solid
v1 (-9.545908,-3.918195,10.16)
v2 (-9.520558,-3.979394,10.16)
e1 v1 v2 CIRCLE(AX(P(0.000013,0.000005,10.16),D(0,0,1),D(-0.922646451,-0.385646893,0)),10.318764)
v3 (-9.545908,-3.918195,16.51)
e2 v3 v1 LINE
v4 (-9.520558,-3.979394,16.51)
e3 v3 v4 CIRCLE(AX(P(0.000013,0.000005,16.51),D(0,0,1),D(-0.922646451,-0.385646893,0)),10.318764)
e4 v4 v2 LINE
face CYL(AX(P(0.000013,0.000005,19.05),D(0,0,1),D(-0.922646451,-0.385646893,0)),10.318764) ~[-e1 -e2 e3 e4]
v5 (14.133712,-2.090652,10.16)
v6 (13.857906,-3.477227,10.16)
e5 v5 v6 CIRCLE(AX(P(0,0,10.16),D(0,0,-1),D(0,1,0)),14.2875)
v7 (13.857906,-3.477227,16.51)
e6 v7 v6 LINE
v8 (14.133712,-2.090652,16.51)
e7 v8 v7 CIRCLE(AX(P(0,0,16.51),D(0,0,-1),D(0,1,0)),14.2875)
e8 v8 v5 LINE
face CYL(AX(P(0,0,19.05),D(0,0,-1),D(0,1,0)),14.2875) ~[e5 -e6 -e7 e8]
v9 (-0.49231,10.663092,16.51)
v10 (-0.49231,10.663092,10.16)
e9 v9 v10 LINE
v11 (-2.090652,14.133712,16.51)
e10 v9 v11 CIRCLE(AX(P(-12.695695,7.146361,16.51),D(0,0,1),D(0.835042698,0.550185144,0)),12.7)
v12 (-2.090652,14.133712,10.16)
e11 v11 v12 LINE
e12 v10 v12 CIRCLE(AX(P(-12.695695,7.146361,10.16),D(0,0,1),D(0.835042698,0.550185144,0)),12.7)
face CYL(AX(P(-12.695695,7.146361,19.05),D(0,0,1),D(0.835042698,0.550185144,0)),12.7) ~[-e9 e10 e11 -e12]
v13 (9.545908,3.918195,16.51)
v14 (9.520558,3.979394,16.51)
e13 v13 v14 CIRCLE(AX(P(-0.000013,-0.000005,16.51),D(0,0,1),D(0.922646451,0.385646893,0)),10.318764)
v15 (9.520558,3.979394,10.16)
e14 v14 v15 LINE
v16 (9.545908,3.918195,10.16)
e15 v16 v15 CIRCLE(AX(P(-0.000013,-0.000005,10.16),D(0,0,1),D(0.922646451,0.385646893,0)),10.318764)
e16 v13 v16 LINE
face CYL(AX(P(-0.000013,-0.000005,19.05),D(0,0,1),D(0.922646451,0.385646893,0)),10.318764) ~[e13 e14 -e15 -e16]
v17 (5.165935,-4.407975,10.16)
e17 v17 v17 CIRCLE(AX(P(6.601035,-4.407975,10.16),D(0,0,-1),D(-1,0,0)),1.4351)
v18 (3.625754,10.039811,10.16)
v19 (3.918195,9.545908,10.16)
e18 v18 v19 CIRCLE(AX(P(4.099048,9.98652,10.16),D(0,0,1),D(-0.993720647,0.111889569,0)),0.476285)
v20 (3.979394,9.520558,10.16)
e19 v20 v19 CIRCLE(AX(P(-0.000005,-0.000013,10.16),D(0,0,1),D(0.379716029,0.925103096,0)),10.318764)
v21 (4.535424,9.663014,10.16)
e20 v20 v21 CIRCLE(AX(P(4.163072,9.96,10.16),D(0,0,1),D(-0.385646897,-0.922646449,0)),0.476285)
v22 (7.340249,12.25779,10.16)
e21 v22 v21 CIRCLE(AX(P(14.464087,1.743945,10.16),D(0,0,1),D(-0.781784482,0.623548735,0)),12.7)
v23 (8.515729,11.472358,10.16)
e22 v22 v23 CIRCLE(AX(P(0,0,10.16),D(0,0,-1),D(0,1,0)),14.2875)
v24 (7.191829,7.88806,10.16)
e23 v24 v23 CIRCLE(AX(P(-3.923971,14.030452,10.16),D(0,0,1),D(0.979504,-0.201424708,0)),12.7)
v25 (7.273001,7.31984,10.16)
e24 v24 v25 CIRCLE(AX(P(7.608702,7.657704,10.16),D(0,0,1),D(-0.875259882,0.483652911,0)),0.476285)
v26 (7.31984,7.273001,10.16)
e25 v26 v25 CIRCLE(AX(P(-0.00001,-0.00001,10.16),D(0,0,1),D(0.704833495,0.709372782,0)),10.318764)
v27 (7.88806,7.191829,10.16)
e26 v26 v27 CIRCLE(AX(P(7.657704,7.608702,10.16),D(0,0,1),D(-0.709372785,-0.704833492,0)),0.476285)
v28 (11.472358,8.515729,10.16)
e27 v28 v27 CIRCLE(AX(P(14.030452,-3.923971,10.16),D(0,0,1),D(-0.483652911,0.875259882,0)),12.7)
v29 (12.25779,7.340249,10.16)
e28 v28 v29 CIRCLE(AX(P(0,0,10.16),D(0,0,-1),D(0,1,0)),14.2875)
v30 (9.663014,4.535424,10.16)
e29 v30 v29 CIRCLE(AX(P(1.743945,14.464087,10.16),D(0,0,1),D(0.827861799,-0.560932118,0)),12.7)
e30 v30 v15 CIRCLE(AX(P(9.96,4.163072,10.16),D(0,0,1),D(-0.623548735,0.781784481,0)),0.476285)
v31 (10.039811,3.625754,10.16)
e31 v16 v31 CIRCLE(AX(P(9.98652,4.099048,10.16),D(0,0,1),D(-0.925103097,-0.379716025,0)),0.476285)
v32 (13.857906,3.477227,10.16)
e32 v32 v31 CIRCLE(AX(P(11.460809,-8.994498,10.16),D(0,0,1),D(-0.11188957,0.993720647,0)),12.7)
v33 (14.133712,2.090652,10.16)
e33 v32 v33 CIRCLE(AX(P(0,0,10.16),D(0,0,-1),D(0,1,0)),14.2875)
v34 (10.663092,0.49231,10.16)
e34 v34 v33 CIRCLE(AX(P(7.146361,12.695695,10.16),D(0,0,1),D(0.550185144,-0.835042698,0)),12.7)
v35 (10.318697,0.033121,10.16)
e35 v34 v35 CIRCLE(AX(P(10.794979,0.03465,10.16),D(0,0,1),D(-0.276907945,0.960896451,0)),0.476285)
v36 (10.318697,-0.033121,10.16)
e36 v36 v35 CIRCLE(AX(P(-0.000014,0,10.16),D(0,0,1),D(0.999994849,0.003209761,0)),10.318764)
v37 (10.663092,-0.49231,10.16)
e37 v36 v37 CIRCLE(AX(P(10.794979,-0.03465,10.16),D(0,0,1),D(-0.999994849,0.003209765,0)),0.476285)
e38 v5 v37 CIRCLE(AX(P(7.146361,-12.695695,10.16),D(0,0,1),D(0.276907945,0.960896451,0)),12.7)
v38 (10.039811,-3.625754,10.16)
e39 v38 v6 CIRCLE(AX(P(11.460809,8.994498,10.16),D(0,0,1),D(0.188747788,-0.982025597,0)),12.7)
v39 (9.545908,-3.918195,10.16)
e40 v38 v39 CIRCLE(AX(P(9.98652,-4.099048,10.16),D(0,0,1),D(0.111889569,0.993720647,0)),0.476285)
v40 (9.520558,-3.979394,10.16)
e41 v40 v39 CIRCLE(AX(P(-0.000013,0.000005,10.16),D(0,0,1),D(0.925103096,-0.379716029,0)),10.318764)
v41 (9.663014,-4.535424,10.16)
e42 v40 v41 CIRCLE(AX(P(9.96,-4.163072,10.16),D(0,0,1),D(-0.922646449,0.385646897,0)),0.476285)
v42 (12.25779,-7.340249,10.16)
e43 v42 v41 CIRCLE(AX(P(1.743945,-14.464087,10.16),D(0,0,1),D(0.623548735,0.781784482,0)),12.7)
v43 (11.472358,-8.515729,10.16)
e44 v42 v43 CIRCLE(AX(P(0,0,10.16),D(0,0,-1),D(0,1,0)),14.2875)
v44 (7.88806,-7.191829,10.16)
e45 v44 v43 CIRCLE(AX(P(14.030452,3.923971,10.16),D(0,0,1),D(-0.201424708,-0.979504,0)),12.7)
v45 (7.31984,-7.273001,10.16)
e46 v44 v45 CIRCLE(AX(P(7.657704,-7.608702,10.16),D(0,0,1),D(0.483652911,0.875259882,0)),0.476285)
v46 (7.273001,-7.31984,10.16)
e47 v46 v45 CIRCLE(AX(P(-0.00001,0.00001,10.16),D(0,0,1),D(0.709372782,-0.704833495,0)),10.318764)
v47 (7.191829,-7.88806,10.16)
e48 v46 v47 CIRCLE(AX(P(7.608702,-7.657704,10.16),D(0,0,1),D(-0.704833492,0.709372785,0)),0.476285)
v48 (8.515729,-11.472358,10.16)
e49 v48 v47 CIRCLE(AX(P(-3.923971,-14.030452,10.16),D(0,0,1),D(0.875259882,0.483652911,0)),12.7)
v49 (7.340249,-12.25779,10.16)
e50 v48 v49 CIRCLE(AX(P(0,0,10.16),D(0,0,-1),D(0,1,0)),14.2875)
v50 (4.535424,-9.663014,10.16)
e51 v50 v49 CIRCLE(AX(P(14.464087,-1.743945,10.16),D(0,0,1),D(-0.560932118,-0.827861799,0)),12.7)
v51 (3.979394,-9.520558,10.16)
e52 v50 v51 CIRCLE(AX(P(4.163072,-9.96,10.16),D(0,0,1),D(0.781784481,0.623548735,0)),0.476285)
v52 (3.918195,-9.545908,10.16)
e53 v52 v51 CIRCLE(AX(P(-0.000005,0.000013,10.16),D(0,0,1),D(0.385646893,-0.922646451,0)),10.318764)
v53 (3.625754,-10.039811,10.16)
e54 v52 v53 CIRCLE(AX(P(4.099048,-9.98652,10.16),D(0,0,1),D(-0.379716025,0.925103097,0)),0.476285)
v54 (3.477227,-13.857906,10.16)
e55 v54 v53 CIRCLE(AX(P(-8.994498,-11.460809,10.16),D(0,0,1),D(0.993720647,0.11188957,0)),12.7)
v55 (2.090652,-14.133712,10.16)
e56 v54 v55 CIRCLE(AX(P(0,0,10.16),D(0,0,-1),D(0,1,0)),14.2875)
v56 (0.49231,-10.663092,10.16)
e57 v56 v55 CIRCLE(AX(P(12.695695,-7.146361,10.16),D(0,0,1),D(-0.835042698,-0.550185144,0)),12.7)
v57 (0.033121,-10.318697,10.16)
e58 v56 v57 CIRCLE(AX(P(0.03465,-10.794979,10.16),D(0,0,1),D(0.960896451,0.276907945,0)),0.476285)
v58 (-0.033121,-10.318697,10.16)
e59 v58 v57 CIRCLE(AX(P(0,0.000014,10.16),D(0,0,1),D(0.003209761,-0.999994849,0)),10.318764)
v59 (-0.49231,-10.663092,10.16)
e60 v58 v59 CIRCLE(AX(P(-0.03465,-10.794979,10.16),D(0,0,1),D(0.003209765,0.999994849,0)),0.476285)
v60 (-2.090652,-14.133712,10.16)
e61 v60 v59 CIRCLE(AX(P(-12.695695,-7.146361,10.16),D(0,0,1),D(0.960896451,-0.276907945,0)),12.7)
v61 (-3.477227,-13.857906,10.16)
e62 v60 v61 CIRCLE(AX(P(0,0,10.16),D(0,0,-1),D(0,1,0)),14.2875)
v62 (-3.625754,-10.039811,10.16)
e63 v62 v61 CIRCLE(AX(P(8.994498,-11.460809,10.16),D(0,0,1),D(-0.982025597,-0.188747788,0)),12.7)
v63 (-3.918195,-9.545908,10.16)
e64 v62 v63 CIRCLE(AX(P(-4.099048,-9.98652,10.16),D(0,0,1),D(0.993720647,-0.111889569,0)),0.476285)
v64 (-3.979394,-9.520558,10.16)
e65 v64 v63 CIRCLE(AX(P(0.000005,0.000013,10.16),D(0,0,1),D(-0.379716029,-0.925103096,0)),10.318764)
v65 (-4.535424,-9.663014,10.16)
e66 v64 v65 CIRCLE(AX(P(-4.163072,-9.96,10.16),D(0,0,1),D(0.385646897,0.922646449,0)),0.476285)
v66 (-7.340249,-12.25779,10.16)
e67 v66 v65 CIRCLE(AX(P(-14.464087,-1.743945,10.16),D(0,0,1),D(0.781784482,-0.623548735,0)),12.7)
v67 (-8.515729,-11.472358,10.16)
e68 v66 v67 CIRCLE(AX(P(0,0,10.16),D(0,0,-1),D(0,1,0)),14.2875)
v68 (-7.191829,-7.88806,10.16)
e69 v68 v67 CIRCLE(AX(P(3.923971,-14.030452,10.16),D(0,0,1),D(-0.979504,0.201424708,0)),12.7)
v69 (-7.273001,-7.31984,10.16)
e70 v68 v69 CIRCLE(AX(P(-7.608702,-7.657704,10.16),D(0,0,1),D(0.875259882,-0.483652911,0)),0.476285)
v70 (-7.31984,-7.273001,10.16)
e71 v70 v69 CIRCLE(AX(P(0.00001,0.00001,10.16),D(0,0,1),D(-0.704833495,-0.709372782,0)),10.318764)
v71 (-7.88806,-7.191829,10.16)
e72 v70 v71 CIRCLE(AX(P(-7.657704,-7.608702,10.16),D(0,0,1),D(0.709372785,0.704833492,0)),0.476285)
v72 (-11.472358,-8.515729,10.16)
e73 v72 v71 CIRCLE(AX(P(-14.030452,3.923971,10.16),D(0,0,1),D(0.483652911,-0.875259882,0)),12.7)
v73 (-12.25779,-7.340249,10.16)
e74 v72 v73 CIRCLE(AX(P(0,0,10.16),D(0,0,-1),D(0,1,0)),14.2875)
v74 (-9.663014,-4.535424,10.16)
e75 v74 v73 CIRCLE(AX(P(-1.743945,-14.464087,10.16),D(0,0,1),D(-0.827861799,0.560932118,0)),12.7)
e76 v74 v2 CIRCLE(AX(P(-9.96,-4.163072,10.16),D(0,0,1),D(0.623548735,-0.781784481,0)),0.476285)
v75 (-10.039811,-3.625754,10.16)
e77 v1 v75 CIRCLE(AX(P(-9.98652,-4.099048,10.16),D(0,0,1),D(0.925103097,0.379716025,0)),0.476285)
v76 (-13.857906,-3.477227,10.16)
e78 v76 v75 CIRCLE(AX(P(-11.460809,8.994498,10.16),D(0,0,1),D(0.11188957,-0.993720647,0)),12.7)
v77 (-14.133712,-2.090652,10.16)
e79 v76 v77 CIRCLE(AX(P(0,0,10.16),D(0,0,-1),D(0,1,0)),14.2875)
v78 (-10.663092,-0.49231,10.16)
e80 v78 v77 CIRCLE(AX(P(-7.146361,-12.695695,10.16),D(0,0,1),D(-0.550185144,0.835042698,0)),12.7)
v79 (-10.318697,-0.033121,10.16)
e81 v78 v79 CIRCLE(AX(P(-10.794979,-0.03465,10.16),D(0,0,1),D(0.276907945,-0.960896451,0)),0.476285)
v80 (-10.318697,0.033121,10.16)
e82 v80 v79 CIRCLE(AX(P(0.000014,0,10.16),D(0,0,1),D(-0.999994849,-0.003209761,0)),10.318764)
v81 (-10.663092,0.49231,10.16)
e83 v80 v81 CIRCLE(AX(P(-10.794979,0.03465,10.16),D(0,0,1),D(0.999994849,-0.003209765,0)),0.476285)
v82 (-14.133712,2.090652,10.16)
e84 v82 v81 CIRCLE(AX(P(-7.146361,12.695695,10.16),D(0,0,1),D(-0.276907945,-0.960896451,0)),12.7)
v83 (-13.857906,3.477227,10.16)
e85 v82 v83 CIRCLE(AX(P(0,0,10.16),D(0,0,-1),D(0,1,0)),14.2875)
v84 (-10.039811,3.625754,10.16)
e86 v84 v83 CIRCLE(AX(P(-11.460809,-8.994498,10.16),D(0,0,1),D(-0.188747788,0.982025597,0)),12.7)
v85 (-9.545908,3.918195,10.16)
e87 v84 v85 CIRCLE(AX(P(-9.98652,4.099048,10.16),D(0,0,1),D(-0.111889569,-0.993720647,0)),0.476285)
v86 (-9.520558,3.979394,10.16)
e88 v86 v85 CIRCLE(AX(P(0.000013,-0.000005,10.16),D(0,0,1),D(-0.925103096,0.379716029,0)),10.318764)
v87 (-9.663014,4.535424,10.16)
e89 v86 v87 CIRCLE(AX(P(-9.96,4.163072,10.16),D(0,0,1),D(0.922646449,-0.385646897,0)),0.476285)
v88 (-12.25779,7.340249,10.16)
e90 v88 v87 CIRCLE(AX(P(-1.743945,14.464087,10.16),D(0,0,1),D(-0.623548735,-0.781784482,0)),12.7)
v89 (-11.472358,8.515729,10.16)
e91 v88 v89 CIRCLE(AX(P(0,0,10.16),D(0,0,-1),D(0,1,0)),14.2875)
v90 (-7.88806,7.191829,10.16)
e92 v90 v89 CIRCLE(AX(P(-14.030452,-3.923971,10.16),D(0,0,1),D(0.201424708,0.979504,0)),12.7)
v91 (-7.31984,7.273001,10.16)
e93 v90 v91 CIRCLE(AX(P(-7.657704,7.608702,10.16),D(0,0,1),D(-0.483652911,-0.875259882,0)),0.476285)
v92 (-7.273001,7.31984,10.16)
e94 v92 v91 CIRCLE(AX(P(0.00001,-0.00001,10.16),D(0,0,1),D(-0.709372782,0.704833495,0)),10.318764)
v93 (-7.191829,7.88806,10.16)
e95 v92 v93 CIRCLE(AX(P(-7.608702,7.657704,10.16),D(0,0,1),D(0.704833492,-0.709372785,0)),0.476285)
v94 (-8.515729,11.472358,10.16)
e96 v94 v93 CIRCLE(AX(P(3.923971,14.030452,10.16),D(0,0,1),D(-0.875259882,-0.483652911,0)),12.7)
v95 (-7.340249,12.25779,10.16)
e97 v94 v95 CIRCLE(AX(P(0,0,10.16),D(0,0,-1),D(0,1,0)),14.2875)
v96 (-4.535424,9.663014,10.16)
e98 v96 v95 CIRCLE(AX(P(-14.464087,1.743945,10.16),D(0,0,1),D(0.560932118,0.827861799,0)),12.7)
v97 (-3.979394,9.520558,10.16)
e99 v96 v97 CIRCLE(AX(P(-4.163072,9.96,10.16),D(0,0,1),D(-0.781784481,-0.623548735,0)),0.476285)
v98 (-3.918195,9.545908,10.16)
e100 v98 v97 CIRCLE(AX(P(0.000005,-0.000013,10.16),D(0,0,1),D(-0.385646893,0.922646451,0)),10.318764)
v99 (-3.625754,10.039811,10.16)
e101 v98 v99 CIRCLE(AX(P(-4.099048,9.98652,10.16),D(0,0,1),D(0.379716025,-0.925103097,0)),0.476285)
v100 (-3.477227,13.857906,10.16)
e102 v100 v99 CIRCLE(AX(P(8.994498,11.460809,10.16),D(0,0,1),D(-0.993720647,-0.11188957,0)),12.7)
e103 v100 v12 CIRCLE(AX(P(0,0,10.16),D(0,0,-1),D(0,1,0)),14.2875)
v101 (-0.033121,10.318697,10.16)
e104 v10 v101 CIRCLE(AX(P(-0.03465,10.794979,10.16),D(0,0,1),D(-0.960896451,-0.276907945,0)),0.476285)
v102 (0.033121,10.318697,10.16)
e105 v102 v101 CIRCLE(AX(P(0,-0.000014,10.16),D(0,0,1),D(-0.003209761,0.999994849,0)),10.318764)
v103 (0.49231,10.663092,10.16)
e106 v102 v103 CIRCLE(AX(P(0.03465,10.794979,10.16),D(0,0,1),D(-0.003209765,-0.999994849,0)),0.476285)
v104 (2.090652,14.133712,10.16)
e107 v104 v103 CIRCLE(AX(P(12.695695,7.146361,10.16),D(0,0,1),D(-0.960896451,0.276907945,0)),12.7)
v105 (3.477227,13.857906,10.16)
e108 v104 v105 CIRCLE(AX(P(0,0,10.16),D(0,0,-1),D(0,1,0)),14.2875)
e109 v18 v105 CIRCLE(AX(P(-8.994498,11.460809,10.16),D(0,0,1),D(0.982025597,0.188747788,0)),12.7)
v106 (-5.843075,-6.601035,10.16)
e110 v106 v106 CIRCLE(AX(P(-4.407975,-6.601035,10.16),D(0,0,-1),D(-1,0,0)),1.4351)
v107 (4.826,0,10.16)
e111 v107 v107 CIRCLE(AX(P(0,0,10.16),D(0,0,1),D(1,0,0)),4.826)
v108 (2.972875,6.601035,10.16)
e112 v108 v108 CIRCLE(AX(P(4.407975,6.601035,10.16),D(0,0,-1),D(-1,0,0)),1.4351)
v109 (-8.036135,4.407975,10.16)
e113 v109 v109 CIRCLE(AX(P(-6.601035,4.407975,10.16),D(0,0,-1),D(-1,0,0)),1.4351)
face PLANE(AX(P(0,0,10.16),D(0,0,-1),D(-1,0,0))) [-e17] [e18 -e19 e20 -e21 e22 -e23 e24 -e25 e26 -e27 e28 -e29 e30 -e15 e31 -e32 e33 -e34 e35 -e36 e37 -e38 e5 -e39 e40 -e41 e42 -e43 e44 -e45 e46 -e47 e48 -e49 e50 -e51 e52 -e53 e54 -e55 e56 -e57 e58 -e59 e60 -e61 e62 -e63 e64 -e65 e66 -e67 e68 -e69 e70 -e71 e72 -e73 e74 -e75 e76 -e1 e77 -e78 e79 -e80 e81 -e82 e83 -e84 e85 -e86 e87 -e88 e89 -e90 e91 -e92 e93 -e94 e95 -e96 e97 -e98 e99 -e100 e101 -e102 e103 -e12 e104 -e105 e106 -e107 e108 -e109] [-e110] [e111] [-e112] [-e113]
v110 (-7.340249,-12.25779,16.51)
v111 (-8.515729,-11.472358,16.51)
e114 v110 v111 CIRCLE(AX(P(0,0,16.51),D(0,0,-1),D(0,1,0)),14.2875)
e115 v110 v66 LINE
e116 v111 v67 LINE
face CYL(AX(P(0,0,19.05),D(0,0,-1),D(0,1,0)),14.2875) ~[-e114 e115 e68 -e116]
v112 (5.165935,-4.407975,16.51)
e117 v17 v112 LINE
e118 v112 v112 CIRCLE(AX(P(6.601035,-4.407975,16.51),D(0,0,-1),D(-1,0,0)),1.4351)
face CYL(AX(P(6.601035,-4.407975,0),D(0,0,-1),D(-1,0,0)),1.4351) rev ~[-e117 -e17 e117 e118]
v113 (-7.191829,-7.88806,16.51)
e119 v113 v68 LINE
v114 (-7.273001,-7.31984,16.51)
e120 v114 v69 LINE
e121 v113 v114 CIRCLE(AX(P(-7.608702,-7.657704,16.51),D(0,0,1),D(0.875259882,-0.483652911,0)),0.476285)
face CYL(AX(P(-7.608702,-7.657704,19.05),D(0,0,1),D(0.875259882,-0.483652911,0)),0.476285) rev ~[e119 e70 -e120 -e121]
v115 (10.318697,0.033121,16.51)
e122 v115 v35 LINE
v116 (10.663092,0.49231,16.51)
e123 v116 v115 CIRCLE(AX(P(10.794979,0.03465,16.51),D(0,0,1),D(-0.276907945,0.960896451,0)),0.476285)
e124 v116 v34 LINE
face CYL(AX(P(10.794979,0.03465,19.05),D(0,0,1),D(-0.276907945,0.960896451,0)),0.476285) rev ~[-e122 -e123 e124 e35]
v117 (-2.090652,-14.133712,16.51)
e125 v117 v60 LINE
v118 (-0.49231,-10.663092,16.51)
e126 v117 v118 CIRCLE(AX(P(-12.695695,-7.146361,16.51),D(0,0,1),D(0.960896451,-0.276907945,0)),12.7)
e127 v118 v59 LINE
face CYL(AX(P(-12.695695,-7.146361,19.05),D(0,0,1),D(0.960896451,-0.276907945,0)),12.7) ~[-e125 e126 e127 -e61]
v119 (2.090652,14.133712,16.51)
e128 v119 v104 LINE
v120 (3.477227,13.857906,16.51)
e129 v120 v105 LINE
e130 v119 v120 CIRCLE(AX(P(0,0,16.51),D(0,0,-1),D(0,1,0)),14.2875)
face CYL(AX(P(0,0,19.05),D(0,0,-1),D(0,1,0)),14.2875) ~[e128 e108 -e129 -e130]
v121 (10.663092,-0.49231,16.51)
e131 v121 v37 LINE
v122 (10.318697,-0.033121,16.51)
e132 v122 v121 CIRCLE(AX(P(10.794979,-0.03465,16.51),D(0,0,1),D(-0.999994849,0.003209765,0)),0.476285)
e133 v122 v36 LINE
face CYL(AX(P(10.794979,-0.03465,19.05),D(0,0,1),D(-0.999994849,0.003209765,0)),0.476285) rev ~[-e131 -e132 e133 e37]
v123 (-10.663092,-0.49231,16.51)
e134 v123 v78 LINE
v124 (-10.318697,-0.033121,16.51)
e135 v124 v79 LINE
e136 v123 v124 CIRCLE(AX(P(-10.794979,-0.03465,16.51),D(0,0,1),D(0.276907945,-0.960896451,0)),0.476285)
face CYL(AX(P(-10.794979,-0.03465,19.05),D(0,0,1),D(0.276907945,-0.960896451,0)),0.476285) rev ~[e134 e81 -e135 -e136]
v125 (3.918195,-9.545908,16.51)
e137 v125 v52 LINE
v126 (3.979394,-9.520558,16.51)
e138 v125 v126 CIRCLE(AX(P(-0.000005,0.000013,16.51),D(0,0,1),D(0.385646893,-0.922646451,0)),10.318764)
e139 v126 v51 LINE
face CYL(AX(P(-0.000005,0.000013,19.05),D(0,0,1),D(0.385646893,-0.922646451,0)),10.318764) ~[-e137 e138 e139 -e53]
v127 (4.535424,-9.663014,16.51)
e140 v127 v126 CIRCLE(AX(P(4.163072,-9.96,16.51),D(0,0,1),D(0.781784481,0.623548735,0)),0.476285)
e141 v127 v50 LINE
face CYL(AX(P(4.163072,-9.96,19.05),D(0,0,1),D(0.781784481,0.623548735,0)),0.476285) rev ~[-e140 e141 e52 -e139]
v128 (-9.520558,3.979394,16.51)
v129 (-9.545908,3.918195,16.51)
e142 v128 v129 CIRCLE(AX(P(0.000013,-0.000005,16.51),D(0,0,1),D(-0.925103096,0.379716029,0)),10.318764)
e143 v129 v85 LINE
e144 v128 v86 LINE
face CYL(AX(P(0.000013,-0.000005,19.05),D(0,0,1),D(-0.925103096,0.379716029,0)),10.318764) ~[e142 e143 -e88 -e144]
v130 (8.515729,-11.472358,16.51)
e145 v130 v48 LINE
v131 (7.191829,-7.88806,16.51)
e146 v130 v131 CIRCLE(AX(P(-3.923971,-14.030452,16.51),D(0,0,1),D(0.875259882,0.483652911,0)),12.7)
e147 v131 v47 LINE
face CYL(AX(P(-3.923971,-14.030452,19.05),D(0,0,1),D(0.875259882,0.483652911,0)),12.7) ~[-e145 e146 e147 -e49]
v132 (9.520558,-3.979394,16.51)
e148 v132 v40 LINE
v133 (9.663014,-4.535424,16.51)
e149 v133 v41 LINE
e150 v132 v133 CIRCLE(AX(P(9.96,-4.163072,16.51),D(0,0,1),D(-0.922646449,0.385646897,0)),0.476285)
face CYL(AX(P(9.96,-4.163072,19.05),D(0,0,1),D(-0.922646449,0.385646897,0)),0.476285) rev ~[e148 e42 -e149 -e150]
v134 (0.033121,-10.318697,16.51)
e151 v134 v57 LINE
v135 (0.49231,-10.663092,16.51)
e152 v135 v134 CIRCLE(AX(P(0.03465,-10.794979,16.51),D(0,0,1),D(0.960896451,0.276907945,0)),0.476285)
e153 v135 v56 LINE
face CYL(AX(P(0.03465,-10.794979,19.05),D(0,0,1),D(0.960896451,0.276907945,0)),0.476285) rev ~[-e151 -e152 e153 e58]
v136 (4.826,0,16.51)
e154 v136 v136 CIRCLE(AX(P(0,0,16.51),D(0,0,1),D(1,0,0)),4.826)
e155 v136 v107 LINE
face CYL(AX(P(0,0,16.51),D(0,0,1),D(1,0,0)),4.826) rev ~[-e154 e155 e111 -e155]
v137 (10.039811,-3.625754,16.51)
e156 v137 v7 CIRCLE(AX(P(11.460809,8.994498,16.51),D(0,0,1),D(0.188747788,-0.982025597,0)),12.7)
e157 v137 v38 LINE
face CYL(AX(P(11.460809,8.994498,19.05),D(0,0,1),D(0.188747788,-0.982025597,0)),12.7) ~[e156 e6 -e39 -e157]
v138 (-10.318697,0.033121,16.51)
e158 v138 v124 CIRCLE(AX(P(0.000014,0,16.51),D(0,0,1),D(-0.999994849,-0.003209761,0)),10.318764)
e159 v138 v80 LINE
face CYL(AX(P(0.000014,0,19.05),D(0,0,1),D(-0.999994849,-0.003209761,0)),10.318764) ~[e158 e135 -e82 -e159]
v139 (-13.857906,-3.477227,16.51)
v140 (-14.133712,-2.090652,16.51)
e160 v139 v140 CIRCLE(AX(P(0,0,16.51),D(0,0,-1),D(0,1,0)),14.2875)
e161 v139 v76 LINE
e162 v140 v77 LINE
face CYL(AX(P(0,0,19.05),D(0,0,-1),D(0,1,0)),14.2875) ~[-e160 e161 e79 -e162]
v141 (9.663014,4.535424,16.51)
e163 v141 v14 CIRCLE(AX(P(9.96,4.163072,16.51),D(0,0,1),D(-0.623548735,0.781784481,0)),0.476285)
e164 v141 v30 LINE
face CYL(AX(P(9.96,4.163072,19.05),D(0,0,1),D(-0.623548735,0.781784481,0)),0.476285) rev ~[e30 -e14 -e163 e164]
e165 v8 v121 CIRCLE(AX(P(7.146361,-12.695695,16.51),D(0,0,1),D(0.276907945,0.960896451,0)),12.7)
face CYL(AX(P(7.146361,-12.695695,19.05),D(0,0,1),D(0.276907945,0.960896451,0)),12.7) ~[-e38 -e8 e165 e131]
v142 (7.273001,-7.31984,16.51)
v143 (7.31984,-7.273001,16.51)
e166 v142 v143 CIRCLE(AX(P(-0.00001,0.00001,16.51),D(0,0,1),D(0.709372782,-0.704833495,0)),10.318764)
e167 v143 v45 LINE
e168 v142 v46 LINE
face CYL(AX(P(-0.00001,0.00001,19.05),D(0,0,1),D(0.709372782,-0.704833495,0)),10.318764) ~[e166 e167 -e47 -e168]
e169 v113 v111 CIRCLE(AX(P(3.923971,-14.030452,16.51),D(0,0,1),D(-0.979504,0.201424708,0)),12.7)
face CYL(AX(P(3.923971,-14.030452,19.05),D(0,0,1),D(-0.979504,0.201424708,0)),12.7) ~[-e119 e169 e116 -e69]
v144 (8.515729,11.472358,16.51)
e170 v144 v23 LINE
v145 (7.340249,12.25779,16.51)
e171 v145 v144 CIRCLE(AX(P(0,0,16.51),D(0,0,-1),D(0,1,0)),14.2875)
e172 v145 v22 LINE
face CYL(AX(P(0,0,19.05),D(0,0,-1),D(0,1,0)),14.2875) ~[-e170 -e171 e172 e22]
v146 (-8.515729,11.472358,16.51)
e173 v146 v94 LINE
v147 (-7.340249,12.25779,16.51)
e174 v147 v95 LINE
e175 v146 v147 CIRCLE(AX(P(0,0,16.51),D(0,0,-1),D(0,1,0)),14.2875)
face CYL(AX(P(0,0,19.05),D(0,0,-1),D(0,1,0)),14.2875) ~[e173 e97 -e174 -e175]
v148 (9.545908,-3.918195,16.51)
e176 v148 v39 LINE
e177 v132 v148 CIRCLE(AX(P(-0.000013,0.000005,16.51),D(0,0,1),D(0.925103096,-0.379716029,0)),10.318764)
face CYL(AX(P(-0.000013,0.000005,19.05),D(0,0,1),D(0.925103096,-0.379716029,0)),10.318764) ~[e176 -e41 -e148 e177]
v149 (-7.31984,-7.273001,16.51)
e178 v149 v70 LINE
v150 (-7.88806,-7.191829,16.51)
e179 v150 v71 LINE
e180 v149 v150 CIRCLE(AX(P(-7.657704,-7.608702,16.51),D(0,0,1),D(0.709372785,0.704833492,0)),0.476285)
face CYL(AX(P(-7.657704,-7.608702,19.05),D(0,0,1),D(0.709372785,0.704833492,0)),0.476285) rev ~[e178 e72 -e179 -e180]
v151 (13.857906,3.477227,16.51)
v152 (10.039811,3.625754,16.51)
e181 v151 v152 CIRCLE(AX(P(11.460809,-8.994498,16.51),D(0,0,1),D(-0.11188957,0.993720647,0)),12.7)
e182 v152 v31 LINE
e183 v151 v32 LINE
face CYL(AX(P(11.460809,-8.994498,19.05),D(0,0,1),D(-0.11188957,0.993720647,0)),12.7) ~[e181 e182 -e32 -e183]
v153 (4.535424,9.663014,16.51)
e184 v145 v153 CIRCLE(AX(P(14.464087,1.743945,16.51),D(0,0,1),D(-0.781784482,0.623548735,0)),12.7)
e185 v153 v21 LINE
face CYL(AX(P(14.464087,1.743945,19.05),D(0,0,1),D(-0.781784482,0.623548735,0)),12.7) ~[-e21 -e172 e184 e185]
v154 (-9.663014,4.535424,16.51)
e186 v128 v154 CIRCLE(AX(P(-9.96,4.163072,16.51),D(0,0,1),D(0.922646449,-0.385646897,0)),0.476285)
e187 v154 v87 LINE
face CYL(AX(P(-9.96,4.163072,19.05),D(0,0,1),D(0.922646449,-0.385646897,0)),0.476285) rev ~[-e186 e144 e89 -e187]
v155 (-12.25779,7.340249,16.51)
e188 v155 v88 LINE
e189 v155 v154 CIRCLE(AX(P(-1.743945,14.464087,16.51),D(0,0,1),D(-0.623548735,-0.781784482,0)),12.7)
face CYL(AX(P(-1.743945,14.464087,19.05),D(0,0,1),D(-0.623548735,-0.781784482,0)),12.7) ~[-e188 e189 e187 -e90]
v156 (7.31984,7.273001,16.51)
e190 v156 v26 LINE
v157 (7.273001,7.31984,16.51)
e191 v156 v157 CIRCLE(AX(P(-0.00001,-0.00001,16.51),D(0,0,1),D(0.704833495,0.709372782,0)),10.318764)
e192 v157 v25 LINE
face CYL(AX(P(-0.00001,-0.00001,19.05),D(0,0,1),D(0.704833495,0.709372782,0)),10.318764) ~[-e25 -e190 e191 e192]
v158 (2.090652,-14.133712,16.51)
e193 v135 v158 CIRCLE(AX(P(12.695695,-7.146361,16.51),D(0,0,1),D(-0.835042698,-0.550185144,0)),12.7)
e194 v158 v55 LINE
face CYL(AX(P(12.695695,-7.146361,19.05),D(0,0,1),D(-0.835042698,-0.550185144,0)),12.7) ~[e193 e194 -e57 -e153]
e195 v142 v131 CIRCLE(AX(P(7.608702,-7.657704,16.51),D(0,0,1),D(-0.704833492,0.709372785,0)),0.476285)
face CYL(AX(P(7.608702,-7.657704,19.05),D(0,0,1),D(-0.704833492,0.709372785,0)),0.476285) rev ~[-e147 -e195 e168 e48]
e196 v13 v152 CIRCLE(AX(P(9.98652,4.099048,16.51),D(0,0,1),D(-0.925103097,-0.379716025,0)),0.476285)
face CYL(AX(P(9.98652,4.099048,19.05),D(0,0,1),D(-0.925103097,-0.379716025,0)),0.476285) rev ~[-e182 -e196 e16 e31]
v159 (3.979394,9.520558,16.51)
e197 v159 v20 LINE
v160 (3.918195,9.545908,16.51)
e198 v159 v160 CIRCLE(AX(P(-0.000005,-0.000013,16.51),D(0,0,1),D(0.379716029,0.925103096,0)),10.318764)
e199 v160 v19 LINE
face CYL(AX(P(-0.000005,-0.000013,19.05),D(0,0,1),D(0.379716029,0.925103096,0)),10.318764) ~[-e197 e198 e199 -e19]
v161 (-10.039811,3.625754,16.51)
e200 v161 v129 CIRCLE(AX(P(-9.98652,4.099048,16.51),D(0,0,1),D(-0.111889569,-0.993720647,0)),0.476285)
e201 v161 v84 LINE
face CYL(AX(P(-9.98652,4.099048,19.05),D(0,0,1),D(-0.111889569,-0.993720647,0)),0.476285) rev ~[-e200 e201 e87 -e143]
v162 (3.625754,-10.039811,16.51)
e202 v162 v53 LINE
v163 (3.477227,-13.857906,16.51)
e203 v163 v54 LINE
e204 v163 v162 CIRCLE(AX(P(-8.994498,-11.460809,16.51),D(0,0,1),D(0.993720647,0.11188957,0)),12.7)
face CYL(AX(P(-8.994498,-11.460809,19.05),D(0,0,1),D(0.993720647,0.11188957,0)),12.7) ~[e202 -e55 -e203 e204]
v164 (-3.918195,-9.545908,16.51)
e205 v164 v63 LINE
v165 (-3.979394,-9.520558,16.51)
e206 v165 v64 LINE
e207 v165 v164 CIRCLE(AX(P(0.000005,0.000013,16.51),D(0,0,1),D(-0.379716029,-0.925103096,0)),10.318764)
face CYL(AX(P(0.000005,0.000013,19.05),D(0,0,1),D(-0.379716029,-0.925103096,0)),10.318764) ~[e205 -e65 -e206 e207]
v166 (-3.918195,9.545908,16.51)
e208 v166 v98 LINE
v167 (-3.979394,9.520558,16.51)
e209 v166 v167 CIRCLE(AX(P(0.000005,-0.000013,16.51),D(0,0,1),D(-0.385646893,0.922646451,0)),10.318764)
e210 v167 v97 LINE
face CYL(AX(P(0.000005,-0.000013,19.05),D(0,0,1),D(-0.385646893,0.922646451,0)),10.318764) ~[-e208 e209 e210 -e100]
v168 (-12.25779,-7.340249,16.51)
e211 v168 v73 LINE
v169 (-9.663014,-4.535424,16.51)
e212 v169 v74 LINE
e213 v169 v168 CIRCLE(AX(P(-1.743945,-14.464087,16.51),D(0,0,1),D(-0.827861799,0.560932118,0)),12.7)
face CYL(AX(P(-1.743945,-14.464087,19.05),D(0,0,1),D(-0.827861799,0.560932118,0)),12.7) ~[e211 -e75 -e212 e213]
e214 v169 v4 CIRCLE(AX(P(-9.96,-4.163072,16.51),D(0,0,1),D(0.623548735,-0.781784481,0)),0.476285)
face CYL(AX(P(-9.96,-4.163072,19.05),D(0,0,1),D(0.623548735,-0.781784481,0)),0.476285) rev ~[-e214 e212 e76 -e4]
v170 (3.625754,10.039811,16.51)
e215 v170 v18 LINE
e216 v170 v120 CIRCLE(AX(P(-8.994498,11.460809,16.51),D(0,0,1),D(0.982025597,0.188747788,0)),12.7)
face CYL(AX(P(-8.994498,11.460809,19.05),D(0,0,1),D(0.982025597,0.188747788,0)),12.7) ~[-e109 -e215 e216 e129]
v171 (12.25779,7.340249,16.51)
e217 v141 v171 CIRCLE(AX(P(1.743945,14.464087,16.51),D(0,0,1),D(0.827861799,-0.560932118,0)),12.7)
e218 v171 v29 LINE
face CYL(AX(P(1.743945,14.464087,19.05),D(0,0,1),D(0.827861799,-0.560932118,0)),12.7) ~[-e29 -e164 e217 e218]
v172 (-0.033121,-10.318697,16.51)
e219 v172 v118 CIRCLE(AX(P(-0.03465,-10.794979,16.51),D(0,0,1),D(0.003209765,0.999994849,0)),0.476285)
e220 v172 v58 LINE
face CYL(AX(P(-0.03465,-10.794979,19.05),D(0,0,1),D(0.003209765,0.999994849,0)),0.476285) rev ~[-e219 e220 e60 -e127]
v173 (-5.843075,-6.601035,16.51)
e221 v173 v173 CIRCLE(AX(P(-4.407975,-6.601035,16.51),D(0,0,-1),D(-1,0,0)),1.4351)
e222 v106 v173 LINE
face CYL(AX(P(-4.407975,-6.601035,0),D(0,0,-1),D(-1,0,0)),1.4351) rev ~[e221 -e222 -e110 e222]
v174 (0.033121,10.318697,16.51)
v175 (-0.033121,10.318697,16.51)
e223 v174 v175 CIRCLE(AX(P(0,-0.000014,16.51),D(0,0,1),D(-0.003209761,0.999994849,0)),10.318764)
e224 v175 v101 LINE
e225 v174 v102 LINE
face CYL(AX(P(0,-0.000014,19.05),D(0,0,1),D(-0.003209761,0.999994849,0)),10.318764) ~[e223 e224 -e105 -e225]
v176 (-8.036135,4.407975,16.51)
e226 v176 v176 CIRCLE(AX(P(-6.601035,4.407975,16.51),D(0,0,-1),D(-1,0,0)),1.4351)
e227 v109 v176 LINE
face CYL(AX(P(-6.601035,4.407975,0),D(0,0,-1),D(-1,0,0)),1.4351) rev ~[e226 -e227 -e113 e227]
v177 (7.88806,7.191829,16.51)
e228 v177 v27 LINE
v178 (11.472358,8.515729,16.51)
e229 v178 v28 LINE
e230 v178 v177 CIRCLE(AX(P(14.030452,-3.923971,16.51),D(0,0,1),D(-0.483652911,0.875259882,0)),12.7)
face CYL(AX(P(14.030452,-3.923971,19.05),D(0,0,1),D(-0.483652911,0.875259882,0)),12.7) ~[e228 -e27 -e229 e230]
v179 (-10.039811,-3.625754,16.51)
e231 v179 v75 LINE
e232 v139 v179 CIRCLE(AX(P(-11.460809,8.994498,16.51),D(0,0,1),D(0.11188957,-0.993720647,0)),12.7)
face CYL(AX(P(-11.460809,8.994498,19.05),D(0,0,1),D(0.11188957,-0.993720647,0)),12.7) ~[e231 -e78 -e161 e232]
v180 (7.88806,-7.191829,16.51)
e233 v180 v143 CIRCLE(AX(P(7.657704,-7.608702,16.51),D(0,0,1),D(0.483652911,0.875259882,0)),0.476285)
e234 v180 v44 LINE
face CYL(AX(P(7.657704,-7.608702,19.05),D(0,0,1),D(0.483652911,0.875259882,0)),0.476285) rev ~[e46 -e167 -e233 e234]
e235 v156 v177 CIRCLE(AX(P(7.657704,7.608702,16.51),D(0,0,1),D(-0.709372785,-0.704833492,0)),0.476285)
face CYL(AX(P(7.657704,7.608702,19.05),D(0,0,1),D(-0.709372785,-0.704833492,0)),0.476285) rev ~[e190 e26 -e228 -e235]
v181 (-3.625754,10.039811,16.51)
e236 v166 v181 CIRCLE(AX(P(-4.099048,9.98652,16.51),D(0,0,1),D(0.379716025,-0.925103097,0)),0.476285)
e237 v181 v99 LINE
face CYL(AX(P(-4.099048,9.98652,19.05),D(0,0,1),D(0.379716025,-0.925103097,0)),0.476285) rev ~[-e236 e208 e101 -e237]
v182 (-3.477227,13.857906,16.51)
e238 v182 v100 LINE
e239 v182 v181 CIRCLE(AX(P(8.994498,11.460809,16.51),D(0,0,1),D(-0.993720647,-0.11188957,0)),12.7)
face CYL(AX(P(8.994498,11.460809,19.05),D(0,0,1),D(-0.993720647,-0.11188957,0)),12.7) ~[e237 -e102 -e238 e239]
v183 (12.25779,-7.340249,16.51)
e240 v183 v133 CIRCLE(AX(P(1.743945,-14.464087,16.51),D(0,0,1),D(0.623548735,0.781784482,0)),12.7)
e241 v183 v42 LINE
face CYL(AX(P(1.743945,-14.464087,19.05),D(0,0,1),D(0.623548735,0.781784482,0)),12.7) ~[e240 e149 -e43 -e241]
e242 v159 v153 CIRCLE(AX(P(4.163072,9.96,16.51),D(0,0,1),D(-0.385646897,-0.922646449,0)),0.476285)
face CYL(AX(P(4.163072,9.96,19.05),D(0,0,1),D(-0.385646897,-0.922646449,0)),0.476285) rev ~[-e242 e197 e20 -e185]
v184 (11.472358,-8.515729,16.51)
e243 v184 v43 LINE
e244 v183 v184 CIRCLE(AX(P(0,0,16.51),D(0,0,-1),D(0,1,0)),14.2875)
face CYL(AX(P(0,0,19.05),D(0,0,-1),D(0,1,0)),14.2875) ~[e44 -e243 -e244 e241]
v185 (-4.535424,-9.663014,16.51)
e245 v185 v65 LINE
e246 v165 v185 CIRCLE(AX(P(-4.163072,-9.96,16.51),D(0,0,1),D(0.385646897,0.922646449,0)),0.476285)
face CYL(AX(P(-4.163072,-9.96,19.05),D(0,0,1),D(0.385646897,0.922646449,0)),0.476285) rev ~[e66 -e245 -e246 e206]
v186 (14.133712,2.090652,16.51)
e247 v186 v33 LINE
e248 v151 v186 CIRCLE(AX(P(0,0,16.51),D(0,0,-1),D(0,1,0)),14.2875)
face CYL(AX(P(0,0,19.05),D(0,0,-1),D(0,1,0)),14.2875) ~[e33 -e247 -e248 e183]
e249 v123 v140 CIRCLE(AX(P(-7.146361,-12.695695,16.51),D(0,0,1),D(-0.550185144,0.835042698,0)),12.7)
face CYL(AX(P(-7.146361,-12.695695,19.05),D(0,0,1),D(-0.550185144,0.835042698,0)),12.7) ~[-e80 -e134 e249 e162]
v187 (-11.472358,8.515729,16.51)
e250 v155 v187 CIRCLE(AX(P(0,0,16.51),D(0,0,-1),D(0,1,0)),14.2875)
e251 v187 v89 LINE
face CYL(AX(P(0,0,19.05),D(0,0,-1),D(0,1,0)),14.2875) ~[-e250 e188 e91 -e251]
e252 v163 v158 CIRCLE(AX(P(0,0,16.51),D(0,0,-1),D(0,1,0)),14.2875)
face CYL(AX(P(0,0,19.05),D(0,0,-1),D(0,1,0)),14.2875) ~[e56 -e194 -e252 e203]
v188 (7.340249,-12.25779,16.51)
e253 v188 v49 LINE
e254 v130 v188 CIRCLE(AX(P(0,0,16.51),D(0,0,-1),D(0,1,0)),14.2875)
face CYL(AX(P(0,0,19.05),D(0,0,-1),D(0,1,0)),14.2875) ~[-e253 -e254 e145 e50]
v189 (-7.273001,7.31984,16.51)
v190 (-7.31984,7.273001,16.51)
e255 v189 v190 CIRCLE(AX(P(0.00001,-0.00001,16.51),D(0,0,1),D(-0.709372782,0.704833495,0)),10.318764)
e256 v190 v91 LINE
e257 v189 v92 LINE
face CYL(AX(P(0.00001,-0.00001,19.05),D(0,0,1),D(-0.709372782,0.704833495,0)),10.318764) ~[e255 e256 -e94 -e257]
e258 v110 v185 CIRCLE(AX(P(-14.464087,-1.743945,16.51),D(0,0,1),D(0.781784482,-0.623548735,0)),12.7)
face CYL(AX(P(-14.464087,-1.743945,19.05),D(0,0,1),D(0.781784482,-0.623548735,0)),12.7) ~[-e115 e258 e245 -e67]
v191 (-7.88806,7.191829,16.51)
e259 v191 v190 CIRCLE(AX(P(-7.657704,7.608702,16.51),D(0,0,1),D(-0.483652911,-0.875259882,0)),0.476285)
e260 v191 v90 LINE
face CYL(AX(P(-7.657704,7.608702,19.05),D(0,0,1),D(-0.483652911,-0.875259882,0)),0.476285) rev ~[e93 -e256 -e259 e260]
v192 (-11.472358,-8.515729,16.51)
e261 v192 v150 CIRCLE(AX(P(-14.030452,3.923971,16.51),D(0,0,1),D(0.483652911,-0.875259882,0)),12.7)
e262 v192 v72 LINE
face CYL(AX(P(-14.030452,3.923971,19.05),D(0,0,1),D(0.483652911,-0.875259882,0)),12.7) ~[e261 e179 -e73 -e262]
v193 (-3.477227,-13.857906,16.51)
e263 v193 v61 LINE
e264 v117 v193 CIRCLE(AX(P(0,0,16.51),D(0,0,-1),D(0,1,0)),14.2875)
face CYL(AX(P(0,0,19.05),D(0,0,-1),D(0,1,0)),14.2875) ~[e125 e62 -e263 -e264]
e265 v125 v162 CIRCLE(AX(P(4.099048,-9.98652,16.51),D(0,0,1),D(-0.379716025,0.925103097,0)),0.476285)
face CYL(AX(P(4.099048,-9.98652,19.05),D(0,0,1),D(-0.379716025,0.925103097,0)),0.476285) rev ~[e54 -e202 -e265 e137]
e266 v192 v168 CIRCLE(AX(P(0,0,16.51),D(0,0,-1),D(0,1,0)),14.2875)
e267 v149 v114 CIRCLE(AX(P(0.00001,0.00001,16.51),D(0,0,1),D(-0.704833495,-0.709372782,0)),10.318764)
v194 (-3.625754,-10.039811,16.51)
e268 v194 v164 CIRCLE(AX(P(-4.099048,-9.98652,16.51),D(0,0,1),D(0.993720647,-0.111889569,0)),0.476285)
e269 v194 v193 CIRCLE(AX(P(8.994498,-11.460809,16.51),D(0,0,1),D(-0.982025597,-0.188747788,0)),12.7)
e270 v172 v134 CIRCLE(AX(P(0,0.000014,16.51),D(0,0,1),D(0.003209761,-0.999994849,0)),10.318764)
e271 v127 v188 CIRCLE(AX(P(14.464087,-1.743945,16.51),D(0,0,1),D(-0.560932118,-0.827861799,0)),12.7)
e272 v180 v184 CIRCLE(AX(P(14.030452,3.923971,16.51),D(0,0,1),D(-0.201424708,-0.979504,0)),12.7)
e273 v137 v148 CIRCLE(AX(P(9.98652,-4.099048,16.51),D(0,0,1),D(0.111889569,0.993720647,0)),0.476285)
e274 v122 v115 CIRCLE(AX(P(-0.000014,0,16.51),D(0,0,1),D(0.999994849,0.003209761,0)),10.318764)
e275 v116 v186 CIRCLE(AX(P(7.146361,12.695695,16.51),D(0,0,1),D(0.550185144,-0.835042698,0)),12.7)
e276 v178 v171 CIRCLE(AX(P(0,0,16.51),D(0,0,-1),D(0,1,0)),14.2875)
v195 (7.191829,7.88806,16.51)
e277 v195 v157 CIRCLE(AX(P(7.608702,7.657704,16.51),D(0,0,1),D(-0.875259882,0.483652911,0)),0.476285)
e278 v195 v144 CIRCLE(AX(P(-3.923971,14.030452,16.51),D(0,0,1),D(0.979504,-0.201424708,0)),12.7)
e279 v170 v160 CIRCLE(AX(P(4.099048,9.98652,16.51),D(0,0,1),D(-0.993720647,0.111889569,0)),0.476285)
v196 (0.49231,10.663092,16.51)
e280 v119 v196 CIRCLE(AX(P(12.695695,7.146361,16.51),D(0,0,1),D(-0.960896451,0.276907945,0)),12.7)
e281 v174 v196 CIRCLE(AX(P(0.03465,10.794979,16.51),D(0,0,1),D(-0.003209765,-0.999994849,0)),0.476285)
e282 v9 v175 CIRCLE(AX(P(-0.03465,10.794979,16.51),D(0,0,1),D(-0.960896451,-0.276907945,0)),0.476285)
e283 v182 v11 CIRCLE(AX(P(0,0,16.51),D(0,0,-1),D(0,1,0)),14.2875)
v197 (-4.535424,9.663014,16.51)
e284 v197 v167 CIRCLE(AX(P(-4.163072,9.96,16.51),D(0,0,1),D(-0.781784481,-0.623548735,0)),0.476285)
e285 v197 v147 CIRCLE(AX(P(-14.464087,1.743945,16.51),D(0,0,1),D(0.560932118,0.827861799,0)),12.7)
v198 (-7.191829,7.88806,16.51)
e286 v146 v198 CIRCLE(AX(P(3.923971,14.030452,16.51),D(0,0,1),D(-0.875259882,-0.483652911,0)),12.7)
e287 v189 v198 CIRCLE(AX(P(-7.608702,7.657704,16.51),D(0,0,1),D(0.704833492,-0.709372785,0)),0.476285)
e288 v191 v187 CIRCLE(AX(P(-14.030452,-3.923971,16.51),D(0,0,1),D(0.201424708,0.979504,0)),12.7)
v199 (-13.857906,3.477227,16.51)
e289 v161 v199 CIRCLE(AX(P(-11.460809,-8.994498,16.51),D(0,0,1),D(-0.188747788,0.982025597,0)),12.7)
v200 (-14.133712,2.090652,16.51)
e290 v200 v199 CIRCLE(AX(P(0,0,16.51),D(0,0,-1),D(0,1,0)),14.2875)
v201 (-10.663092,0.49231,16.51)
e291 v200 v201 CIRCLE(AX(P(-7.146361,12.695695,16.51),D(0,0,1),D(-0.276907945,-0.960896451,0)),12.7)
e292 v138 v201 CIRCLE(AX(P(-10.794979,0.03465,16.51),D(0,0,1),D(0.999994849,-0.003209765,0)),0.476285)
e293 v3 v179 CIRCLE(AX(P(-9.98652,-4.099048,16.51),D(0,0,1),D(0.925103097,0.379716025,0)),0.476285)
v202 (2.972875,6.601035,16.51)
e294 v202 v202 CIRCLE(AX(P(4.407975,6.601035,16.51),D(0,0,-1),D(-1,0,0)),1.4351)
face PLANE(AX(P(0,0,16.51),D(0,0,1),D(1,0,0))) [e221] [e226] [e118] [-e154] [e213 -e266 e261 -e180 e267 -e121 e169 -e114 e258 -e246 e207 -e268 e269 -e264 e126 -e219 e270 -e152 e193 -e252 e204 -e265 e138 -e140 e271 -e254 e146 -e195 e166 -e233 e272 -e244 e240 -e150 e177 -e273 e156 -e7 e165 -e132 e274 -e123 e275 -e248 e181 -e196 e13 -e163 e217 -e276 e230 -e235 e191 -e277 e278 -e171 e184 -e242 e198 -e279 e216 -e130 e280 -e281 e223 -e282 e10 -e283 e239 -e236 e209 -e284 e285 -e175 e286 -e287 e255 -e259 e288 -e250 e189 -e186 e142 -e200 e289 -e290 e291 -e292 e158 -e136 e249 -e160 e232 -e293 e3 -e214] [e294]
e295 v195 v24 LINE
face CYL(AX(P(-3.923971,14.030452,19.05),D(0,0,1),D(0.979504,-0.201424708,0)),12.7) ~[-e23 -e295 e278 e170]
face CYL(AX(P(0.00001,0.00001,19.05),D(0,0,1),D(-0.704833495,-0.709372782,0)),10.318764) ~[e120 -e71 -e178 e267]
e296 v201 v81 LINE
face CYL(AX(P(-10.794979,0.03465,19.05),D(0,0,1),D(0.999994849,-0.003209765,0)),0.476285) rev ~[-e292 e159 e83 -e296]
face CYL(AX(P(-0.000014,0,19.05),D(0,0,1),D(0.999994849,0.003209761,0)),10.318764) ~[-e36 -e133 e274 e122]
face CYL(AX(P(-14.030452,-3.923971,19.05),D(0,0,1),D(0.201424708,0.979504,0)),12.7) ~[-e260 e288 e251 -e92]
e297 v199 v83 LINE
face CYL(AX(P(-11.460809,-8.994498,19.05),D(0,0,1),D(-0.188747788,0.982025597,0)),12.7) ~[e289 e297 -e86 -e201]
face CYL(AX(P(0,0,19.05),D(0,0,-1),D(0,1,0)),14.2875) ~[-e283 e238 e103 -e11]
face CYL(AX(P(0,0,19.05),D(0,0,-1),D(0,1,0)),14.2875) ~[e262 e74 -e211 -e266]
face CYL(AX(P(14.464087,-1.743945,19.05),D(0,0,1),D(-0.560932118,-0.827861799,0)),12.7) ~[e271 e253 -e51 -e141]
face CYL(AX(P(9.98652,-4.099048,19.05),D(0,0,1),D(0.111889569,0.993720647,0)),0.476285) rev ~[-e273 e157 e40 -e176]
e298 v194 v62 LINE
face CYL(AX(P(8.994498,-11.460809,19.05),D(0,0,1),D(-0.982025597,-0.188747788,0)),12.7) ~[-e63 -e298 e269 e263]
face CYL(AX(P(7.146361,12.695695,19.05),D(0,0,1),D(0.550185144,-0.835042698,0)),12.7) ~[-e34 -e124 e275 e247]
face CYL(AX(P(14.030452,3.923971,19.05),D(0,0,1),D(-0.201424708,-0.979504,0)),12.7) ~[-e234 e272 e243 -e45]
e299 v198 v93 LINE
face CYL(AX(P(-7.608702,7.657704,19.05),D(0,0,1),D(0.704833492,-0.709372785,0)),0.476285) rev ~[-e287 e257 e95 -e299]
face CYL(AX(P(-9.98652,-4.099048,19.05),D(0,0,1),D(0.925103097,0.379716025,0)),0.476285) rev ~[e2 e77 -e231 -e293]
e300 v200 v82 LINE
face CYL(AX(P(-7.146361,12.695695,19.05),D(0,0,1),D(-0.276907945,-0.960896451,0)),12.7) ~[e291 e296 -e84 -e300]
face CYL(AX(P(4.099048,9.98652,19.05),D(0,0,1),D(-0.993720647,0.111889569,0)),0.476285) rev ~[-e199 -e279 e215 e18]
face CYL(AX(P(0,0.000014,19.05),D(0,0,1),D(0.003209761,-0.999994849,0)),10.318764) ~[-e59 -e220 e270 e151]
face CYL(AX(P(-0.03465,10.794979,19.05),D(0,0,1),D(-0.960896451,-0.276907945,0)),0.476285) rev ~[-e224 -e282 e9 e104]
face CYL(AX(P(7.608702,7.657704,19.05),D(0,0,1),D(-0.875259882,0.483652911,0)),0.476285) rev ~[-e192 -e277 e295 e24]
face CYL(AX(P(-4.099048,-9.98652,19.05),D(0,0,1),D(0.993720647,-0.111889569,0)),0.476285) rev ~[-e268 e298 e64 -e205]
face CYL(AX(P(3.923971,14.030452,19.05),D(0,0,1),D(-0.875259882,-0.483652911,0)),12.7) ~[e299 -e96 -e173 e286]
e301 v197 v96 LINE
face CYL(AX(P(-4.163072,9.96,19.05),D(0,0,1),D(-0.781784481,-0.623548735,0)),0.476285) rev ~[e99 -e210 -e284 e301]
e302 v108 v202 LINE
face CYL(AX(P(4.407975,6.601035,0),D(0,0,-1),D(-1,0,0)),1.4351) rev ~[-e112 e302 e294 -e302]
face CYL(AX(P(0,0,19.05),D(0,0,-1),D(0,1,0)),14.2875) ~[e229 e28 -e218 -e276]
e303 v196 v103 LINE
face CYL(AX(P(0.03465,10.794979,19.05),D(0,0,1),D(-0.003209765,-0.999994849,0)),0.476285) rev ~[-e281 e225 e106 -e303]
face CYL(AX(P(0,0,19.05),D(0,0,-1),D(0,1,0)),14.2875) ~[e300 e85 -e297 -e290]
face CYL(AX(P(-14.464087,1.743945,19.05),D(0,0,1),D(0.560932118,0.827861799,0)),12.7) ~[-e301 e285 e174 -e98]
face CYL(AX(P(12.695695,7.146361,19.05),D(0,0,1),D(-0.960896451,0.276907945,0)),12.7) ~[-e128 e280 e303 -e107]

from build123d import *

# Parameters (mm, degrees)
FILLET2_R           = 0.28575
CUT_EXTRUDE2_DEPTH  = 20.05
CIRPATTERN1_COUNT   = 16
SKETCH10_R          = 29.093421686
CUT_EXTRUDE3_DEPTH  = 15.24
SKETCH11_R          = 20.555223038
CUT_EXTRUDE4_DEPTH  = 10.16
SKETCH12_R          = 7.917123479
SKETCH12_R_2        = 4.826
BOSS_EXTRUDE1_DEPTH = 6.35
SKETCH_1_R          = 1.4351
CUT_EXTRUDE_1_DEPTH = 17.51


with BuildPart() as part:
    # Sketch4 → Revolve1 (revolve)
    with BuildSketch(Plane(origin=(0, 0, 0), x_dir=(0, 0, -1), z_dir=(1, 0, 0))):
        Polygon((-31.75, 6.35), (-31.75, 10.3251), (-19.05, 10.3251), (-19.05, 14.2875), (0, 14.2875), (0, 6.35), align=None)
    revolve(axis=Axis((0, 0, 19.05), (0, 0, 1)))

    # Fillet2
    fillet2_edges = [part.edges().sort_by_distance(p)[0] for p in [
        (0, -14.2875, 0),
        (0, -14.2875, 19.05),
        (0, -10.3251, 19.05),
        (0, -10.3251, 31.75),
    ]]
    fillet(fillet2_edges, radius=FILLET2_R)

    # Sketch7 → Cut-Extrude2 (cut, through all)
    with BuildSketch(Plane.XY.offset(19.05)):
        with BuildLine():
            ThreePointArc((-0.033120764, 10.318696845), (0, 10.31875), (0.033120764, 10.318696845))
            ThreePointArc((0.033120764, 10.318696845), (0.320422165, 10.413952701), (0.492309784, 10.663092059))
            ThreePointArc((0.492309784, 10.663092059), (1.160210792, 12.458856869), (2.090652449, 14.133712484))
            ThreePointArc((2.090652449, 14.133712484), (0, 14.2875), (-2.090652449, 14.133712484))
            ThreePointArc((-2.090652449, 14.133712484), (-1.160210792, 12.458856869), (-0.492309784, 10.663092059))
            ThreePointArc((-0.492309784, 10.663092059), (-0.320422165, 10.413952701), (-0.033120764, 10.318696845))
        make_face()
    cut_extrude2 = extrude(amount=-CUT_EXTRUDE2_DEPTH, mode=Mode.SUBTRACT)

    # CirPattern1: Cut-Extrude2 ×16 about axis
    cirpattern1_axis = Axis((0, 0, 0), (0, 0, 1))
    for i in range(1, CIRPATTERN1_COUNT):
        add(cut_extrude2.rotate(cirpattern1_axis, i * 360 / CIRPATTERN1_COUNT), mode=Mode.SUBTRACT)

    # Sketch10 → Cut-Extrude3 (cut)
    with BuildSketch(Plane.XY.offset(31.75)):
        Circle(SKETCH10_R)
    extrude(amount=-CUT_EXTRUDE3_DEPTH, mode=Mode.SUBTRACT)

    # Sketch11 → Cut-Extrude4 (cut)
    with BuildSketch(Plane(origin=(0, 0, 0), x_dir=(-1, 0, 0), z_dir=(0, 0, -1))):
        Circle(SKETCH11_R)
    extrude(amount=-CUT_EXTRUDE4_DEPTH, mode=Mode.SUBTRACT)

    # Sketch12 → Boss-Extrude1 (add)
    with BuildSketch(Plane.XY.offset(16.51)):
        Circle(SKETCH12_R)
        Circle(SKETCH12_R_2, mode=Mode.SUBTRACT)
    extrude(amount=-BOSS_EXTRUDE1_DEPTH)

    # Эскиз1 → Вырез-Вытянуть1 (cut, through all)
    with BuildSketch(Plane(origin=(0, 0, 0), x_dir=(-1, 0, 0), z_dir=(0, 0, -1))):
        with Locations((6.601034981, 4.40797498)):
            Circle(SKETCH_1_R)
        with Locations((4.40797498, -6.601034981)):
            Circle(SKETCH_1_R)
        with Locations((-6.601034981, -4.40797498)):
            Circle(SKETCH_1_R)
        with Locations((-4.40797498, 6.601034981)):
            Circle(SKETCH_1_R)
    extrude(amount=-CUT_EXTRUDE_1_DEPTH, mode=Mode.SUBTRACT)


solid = part.part
